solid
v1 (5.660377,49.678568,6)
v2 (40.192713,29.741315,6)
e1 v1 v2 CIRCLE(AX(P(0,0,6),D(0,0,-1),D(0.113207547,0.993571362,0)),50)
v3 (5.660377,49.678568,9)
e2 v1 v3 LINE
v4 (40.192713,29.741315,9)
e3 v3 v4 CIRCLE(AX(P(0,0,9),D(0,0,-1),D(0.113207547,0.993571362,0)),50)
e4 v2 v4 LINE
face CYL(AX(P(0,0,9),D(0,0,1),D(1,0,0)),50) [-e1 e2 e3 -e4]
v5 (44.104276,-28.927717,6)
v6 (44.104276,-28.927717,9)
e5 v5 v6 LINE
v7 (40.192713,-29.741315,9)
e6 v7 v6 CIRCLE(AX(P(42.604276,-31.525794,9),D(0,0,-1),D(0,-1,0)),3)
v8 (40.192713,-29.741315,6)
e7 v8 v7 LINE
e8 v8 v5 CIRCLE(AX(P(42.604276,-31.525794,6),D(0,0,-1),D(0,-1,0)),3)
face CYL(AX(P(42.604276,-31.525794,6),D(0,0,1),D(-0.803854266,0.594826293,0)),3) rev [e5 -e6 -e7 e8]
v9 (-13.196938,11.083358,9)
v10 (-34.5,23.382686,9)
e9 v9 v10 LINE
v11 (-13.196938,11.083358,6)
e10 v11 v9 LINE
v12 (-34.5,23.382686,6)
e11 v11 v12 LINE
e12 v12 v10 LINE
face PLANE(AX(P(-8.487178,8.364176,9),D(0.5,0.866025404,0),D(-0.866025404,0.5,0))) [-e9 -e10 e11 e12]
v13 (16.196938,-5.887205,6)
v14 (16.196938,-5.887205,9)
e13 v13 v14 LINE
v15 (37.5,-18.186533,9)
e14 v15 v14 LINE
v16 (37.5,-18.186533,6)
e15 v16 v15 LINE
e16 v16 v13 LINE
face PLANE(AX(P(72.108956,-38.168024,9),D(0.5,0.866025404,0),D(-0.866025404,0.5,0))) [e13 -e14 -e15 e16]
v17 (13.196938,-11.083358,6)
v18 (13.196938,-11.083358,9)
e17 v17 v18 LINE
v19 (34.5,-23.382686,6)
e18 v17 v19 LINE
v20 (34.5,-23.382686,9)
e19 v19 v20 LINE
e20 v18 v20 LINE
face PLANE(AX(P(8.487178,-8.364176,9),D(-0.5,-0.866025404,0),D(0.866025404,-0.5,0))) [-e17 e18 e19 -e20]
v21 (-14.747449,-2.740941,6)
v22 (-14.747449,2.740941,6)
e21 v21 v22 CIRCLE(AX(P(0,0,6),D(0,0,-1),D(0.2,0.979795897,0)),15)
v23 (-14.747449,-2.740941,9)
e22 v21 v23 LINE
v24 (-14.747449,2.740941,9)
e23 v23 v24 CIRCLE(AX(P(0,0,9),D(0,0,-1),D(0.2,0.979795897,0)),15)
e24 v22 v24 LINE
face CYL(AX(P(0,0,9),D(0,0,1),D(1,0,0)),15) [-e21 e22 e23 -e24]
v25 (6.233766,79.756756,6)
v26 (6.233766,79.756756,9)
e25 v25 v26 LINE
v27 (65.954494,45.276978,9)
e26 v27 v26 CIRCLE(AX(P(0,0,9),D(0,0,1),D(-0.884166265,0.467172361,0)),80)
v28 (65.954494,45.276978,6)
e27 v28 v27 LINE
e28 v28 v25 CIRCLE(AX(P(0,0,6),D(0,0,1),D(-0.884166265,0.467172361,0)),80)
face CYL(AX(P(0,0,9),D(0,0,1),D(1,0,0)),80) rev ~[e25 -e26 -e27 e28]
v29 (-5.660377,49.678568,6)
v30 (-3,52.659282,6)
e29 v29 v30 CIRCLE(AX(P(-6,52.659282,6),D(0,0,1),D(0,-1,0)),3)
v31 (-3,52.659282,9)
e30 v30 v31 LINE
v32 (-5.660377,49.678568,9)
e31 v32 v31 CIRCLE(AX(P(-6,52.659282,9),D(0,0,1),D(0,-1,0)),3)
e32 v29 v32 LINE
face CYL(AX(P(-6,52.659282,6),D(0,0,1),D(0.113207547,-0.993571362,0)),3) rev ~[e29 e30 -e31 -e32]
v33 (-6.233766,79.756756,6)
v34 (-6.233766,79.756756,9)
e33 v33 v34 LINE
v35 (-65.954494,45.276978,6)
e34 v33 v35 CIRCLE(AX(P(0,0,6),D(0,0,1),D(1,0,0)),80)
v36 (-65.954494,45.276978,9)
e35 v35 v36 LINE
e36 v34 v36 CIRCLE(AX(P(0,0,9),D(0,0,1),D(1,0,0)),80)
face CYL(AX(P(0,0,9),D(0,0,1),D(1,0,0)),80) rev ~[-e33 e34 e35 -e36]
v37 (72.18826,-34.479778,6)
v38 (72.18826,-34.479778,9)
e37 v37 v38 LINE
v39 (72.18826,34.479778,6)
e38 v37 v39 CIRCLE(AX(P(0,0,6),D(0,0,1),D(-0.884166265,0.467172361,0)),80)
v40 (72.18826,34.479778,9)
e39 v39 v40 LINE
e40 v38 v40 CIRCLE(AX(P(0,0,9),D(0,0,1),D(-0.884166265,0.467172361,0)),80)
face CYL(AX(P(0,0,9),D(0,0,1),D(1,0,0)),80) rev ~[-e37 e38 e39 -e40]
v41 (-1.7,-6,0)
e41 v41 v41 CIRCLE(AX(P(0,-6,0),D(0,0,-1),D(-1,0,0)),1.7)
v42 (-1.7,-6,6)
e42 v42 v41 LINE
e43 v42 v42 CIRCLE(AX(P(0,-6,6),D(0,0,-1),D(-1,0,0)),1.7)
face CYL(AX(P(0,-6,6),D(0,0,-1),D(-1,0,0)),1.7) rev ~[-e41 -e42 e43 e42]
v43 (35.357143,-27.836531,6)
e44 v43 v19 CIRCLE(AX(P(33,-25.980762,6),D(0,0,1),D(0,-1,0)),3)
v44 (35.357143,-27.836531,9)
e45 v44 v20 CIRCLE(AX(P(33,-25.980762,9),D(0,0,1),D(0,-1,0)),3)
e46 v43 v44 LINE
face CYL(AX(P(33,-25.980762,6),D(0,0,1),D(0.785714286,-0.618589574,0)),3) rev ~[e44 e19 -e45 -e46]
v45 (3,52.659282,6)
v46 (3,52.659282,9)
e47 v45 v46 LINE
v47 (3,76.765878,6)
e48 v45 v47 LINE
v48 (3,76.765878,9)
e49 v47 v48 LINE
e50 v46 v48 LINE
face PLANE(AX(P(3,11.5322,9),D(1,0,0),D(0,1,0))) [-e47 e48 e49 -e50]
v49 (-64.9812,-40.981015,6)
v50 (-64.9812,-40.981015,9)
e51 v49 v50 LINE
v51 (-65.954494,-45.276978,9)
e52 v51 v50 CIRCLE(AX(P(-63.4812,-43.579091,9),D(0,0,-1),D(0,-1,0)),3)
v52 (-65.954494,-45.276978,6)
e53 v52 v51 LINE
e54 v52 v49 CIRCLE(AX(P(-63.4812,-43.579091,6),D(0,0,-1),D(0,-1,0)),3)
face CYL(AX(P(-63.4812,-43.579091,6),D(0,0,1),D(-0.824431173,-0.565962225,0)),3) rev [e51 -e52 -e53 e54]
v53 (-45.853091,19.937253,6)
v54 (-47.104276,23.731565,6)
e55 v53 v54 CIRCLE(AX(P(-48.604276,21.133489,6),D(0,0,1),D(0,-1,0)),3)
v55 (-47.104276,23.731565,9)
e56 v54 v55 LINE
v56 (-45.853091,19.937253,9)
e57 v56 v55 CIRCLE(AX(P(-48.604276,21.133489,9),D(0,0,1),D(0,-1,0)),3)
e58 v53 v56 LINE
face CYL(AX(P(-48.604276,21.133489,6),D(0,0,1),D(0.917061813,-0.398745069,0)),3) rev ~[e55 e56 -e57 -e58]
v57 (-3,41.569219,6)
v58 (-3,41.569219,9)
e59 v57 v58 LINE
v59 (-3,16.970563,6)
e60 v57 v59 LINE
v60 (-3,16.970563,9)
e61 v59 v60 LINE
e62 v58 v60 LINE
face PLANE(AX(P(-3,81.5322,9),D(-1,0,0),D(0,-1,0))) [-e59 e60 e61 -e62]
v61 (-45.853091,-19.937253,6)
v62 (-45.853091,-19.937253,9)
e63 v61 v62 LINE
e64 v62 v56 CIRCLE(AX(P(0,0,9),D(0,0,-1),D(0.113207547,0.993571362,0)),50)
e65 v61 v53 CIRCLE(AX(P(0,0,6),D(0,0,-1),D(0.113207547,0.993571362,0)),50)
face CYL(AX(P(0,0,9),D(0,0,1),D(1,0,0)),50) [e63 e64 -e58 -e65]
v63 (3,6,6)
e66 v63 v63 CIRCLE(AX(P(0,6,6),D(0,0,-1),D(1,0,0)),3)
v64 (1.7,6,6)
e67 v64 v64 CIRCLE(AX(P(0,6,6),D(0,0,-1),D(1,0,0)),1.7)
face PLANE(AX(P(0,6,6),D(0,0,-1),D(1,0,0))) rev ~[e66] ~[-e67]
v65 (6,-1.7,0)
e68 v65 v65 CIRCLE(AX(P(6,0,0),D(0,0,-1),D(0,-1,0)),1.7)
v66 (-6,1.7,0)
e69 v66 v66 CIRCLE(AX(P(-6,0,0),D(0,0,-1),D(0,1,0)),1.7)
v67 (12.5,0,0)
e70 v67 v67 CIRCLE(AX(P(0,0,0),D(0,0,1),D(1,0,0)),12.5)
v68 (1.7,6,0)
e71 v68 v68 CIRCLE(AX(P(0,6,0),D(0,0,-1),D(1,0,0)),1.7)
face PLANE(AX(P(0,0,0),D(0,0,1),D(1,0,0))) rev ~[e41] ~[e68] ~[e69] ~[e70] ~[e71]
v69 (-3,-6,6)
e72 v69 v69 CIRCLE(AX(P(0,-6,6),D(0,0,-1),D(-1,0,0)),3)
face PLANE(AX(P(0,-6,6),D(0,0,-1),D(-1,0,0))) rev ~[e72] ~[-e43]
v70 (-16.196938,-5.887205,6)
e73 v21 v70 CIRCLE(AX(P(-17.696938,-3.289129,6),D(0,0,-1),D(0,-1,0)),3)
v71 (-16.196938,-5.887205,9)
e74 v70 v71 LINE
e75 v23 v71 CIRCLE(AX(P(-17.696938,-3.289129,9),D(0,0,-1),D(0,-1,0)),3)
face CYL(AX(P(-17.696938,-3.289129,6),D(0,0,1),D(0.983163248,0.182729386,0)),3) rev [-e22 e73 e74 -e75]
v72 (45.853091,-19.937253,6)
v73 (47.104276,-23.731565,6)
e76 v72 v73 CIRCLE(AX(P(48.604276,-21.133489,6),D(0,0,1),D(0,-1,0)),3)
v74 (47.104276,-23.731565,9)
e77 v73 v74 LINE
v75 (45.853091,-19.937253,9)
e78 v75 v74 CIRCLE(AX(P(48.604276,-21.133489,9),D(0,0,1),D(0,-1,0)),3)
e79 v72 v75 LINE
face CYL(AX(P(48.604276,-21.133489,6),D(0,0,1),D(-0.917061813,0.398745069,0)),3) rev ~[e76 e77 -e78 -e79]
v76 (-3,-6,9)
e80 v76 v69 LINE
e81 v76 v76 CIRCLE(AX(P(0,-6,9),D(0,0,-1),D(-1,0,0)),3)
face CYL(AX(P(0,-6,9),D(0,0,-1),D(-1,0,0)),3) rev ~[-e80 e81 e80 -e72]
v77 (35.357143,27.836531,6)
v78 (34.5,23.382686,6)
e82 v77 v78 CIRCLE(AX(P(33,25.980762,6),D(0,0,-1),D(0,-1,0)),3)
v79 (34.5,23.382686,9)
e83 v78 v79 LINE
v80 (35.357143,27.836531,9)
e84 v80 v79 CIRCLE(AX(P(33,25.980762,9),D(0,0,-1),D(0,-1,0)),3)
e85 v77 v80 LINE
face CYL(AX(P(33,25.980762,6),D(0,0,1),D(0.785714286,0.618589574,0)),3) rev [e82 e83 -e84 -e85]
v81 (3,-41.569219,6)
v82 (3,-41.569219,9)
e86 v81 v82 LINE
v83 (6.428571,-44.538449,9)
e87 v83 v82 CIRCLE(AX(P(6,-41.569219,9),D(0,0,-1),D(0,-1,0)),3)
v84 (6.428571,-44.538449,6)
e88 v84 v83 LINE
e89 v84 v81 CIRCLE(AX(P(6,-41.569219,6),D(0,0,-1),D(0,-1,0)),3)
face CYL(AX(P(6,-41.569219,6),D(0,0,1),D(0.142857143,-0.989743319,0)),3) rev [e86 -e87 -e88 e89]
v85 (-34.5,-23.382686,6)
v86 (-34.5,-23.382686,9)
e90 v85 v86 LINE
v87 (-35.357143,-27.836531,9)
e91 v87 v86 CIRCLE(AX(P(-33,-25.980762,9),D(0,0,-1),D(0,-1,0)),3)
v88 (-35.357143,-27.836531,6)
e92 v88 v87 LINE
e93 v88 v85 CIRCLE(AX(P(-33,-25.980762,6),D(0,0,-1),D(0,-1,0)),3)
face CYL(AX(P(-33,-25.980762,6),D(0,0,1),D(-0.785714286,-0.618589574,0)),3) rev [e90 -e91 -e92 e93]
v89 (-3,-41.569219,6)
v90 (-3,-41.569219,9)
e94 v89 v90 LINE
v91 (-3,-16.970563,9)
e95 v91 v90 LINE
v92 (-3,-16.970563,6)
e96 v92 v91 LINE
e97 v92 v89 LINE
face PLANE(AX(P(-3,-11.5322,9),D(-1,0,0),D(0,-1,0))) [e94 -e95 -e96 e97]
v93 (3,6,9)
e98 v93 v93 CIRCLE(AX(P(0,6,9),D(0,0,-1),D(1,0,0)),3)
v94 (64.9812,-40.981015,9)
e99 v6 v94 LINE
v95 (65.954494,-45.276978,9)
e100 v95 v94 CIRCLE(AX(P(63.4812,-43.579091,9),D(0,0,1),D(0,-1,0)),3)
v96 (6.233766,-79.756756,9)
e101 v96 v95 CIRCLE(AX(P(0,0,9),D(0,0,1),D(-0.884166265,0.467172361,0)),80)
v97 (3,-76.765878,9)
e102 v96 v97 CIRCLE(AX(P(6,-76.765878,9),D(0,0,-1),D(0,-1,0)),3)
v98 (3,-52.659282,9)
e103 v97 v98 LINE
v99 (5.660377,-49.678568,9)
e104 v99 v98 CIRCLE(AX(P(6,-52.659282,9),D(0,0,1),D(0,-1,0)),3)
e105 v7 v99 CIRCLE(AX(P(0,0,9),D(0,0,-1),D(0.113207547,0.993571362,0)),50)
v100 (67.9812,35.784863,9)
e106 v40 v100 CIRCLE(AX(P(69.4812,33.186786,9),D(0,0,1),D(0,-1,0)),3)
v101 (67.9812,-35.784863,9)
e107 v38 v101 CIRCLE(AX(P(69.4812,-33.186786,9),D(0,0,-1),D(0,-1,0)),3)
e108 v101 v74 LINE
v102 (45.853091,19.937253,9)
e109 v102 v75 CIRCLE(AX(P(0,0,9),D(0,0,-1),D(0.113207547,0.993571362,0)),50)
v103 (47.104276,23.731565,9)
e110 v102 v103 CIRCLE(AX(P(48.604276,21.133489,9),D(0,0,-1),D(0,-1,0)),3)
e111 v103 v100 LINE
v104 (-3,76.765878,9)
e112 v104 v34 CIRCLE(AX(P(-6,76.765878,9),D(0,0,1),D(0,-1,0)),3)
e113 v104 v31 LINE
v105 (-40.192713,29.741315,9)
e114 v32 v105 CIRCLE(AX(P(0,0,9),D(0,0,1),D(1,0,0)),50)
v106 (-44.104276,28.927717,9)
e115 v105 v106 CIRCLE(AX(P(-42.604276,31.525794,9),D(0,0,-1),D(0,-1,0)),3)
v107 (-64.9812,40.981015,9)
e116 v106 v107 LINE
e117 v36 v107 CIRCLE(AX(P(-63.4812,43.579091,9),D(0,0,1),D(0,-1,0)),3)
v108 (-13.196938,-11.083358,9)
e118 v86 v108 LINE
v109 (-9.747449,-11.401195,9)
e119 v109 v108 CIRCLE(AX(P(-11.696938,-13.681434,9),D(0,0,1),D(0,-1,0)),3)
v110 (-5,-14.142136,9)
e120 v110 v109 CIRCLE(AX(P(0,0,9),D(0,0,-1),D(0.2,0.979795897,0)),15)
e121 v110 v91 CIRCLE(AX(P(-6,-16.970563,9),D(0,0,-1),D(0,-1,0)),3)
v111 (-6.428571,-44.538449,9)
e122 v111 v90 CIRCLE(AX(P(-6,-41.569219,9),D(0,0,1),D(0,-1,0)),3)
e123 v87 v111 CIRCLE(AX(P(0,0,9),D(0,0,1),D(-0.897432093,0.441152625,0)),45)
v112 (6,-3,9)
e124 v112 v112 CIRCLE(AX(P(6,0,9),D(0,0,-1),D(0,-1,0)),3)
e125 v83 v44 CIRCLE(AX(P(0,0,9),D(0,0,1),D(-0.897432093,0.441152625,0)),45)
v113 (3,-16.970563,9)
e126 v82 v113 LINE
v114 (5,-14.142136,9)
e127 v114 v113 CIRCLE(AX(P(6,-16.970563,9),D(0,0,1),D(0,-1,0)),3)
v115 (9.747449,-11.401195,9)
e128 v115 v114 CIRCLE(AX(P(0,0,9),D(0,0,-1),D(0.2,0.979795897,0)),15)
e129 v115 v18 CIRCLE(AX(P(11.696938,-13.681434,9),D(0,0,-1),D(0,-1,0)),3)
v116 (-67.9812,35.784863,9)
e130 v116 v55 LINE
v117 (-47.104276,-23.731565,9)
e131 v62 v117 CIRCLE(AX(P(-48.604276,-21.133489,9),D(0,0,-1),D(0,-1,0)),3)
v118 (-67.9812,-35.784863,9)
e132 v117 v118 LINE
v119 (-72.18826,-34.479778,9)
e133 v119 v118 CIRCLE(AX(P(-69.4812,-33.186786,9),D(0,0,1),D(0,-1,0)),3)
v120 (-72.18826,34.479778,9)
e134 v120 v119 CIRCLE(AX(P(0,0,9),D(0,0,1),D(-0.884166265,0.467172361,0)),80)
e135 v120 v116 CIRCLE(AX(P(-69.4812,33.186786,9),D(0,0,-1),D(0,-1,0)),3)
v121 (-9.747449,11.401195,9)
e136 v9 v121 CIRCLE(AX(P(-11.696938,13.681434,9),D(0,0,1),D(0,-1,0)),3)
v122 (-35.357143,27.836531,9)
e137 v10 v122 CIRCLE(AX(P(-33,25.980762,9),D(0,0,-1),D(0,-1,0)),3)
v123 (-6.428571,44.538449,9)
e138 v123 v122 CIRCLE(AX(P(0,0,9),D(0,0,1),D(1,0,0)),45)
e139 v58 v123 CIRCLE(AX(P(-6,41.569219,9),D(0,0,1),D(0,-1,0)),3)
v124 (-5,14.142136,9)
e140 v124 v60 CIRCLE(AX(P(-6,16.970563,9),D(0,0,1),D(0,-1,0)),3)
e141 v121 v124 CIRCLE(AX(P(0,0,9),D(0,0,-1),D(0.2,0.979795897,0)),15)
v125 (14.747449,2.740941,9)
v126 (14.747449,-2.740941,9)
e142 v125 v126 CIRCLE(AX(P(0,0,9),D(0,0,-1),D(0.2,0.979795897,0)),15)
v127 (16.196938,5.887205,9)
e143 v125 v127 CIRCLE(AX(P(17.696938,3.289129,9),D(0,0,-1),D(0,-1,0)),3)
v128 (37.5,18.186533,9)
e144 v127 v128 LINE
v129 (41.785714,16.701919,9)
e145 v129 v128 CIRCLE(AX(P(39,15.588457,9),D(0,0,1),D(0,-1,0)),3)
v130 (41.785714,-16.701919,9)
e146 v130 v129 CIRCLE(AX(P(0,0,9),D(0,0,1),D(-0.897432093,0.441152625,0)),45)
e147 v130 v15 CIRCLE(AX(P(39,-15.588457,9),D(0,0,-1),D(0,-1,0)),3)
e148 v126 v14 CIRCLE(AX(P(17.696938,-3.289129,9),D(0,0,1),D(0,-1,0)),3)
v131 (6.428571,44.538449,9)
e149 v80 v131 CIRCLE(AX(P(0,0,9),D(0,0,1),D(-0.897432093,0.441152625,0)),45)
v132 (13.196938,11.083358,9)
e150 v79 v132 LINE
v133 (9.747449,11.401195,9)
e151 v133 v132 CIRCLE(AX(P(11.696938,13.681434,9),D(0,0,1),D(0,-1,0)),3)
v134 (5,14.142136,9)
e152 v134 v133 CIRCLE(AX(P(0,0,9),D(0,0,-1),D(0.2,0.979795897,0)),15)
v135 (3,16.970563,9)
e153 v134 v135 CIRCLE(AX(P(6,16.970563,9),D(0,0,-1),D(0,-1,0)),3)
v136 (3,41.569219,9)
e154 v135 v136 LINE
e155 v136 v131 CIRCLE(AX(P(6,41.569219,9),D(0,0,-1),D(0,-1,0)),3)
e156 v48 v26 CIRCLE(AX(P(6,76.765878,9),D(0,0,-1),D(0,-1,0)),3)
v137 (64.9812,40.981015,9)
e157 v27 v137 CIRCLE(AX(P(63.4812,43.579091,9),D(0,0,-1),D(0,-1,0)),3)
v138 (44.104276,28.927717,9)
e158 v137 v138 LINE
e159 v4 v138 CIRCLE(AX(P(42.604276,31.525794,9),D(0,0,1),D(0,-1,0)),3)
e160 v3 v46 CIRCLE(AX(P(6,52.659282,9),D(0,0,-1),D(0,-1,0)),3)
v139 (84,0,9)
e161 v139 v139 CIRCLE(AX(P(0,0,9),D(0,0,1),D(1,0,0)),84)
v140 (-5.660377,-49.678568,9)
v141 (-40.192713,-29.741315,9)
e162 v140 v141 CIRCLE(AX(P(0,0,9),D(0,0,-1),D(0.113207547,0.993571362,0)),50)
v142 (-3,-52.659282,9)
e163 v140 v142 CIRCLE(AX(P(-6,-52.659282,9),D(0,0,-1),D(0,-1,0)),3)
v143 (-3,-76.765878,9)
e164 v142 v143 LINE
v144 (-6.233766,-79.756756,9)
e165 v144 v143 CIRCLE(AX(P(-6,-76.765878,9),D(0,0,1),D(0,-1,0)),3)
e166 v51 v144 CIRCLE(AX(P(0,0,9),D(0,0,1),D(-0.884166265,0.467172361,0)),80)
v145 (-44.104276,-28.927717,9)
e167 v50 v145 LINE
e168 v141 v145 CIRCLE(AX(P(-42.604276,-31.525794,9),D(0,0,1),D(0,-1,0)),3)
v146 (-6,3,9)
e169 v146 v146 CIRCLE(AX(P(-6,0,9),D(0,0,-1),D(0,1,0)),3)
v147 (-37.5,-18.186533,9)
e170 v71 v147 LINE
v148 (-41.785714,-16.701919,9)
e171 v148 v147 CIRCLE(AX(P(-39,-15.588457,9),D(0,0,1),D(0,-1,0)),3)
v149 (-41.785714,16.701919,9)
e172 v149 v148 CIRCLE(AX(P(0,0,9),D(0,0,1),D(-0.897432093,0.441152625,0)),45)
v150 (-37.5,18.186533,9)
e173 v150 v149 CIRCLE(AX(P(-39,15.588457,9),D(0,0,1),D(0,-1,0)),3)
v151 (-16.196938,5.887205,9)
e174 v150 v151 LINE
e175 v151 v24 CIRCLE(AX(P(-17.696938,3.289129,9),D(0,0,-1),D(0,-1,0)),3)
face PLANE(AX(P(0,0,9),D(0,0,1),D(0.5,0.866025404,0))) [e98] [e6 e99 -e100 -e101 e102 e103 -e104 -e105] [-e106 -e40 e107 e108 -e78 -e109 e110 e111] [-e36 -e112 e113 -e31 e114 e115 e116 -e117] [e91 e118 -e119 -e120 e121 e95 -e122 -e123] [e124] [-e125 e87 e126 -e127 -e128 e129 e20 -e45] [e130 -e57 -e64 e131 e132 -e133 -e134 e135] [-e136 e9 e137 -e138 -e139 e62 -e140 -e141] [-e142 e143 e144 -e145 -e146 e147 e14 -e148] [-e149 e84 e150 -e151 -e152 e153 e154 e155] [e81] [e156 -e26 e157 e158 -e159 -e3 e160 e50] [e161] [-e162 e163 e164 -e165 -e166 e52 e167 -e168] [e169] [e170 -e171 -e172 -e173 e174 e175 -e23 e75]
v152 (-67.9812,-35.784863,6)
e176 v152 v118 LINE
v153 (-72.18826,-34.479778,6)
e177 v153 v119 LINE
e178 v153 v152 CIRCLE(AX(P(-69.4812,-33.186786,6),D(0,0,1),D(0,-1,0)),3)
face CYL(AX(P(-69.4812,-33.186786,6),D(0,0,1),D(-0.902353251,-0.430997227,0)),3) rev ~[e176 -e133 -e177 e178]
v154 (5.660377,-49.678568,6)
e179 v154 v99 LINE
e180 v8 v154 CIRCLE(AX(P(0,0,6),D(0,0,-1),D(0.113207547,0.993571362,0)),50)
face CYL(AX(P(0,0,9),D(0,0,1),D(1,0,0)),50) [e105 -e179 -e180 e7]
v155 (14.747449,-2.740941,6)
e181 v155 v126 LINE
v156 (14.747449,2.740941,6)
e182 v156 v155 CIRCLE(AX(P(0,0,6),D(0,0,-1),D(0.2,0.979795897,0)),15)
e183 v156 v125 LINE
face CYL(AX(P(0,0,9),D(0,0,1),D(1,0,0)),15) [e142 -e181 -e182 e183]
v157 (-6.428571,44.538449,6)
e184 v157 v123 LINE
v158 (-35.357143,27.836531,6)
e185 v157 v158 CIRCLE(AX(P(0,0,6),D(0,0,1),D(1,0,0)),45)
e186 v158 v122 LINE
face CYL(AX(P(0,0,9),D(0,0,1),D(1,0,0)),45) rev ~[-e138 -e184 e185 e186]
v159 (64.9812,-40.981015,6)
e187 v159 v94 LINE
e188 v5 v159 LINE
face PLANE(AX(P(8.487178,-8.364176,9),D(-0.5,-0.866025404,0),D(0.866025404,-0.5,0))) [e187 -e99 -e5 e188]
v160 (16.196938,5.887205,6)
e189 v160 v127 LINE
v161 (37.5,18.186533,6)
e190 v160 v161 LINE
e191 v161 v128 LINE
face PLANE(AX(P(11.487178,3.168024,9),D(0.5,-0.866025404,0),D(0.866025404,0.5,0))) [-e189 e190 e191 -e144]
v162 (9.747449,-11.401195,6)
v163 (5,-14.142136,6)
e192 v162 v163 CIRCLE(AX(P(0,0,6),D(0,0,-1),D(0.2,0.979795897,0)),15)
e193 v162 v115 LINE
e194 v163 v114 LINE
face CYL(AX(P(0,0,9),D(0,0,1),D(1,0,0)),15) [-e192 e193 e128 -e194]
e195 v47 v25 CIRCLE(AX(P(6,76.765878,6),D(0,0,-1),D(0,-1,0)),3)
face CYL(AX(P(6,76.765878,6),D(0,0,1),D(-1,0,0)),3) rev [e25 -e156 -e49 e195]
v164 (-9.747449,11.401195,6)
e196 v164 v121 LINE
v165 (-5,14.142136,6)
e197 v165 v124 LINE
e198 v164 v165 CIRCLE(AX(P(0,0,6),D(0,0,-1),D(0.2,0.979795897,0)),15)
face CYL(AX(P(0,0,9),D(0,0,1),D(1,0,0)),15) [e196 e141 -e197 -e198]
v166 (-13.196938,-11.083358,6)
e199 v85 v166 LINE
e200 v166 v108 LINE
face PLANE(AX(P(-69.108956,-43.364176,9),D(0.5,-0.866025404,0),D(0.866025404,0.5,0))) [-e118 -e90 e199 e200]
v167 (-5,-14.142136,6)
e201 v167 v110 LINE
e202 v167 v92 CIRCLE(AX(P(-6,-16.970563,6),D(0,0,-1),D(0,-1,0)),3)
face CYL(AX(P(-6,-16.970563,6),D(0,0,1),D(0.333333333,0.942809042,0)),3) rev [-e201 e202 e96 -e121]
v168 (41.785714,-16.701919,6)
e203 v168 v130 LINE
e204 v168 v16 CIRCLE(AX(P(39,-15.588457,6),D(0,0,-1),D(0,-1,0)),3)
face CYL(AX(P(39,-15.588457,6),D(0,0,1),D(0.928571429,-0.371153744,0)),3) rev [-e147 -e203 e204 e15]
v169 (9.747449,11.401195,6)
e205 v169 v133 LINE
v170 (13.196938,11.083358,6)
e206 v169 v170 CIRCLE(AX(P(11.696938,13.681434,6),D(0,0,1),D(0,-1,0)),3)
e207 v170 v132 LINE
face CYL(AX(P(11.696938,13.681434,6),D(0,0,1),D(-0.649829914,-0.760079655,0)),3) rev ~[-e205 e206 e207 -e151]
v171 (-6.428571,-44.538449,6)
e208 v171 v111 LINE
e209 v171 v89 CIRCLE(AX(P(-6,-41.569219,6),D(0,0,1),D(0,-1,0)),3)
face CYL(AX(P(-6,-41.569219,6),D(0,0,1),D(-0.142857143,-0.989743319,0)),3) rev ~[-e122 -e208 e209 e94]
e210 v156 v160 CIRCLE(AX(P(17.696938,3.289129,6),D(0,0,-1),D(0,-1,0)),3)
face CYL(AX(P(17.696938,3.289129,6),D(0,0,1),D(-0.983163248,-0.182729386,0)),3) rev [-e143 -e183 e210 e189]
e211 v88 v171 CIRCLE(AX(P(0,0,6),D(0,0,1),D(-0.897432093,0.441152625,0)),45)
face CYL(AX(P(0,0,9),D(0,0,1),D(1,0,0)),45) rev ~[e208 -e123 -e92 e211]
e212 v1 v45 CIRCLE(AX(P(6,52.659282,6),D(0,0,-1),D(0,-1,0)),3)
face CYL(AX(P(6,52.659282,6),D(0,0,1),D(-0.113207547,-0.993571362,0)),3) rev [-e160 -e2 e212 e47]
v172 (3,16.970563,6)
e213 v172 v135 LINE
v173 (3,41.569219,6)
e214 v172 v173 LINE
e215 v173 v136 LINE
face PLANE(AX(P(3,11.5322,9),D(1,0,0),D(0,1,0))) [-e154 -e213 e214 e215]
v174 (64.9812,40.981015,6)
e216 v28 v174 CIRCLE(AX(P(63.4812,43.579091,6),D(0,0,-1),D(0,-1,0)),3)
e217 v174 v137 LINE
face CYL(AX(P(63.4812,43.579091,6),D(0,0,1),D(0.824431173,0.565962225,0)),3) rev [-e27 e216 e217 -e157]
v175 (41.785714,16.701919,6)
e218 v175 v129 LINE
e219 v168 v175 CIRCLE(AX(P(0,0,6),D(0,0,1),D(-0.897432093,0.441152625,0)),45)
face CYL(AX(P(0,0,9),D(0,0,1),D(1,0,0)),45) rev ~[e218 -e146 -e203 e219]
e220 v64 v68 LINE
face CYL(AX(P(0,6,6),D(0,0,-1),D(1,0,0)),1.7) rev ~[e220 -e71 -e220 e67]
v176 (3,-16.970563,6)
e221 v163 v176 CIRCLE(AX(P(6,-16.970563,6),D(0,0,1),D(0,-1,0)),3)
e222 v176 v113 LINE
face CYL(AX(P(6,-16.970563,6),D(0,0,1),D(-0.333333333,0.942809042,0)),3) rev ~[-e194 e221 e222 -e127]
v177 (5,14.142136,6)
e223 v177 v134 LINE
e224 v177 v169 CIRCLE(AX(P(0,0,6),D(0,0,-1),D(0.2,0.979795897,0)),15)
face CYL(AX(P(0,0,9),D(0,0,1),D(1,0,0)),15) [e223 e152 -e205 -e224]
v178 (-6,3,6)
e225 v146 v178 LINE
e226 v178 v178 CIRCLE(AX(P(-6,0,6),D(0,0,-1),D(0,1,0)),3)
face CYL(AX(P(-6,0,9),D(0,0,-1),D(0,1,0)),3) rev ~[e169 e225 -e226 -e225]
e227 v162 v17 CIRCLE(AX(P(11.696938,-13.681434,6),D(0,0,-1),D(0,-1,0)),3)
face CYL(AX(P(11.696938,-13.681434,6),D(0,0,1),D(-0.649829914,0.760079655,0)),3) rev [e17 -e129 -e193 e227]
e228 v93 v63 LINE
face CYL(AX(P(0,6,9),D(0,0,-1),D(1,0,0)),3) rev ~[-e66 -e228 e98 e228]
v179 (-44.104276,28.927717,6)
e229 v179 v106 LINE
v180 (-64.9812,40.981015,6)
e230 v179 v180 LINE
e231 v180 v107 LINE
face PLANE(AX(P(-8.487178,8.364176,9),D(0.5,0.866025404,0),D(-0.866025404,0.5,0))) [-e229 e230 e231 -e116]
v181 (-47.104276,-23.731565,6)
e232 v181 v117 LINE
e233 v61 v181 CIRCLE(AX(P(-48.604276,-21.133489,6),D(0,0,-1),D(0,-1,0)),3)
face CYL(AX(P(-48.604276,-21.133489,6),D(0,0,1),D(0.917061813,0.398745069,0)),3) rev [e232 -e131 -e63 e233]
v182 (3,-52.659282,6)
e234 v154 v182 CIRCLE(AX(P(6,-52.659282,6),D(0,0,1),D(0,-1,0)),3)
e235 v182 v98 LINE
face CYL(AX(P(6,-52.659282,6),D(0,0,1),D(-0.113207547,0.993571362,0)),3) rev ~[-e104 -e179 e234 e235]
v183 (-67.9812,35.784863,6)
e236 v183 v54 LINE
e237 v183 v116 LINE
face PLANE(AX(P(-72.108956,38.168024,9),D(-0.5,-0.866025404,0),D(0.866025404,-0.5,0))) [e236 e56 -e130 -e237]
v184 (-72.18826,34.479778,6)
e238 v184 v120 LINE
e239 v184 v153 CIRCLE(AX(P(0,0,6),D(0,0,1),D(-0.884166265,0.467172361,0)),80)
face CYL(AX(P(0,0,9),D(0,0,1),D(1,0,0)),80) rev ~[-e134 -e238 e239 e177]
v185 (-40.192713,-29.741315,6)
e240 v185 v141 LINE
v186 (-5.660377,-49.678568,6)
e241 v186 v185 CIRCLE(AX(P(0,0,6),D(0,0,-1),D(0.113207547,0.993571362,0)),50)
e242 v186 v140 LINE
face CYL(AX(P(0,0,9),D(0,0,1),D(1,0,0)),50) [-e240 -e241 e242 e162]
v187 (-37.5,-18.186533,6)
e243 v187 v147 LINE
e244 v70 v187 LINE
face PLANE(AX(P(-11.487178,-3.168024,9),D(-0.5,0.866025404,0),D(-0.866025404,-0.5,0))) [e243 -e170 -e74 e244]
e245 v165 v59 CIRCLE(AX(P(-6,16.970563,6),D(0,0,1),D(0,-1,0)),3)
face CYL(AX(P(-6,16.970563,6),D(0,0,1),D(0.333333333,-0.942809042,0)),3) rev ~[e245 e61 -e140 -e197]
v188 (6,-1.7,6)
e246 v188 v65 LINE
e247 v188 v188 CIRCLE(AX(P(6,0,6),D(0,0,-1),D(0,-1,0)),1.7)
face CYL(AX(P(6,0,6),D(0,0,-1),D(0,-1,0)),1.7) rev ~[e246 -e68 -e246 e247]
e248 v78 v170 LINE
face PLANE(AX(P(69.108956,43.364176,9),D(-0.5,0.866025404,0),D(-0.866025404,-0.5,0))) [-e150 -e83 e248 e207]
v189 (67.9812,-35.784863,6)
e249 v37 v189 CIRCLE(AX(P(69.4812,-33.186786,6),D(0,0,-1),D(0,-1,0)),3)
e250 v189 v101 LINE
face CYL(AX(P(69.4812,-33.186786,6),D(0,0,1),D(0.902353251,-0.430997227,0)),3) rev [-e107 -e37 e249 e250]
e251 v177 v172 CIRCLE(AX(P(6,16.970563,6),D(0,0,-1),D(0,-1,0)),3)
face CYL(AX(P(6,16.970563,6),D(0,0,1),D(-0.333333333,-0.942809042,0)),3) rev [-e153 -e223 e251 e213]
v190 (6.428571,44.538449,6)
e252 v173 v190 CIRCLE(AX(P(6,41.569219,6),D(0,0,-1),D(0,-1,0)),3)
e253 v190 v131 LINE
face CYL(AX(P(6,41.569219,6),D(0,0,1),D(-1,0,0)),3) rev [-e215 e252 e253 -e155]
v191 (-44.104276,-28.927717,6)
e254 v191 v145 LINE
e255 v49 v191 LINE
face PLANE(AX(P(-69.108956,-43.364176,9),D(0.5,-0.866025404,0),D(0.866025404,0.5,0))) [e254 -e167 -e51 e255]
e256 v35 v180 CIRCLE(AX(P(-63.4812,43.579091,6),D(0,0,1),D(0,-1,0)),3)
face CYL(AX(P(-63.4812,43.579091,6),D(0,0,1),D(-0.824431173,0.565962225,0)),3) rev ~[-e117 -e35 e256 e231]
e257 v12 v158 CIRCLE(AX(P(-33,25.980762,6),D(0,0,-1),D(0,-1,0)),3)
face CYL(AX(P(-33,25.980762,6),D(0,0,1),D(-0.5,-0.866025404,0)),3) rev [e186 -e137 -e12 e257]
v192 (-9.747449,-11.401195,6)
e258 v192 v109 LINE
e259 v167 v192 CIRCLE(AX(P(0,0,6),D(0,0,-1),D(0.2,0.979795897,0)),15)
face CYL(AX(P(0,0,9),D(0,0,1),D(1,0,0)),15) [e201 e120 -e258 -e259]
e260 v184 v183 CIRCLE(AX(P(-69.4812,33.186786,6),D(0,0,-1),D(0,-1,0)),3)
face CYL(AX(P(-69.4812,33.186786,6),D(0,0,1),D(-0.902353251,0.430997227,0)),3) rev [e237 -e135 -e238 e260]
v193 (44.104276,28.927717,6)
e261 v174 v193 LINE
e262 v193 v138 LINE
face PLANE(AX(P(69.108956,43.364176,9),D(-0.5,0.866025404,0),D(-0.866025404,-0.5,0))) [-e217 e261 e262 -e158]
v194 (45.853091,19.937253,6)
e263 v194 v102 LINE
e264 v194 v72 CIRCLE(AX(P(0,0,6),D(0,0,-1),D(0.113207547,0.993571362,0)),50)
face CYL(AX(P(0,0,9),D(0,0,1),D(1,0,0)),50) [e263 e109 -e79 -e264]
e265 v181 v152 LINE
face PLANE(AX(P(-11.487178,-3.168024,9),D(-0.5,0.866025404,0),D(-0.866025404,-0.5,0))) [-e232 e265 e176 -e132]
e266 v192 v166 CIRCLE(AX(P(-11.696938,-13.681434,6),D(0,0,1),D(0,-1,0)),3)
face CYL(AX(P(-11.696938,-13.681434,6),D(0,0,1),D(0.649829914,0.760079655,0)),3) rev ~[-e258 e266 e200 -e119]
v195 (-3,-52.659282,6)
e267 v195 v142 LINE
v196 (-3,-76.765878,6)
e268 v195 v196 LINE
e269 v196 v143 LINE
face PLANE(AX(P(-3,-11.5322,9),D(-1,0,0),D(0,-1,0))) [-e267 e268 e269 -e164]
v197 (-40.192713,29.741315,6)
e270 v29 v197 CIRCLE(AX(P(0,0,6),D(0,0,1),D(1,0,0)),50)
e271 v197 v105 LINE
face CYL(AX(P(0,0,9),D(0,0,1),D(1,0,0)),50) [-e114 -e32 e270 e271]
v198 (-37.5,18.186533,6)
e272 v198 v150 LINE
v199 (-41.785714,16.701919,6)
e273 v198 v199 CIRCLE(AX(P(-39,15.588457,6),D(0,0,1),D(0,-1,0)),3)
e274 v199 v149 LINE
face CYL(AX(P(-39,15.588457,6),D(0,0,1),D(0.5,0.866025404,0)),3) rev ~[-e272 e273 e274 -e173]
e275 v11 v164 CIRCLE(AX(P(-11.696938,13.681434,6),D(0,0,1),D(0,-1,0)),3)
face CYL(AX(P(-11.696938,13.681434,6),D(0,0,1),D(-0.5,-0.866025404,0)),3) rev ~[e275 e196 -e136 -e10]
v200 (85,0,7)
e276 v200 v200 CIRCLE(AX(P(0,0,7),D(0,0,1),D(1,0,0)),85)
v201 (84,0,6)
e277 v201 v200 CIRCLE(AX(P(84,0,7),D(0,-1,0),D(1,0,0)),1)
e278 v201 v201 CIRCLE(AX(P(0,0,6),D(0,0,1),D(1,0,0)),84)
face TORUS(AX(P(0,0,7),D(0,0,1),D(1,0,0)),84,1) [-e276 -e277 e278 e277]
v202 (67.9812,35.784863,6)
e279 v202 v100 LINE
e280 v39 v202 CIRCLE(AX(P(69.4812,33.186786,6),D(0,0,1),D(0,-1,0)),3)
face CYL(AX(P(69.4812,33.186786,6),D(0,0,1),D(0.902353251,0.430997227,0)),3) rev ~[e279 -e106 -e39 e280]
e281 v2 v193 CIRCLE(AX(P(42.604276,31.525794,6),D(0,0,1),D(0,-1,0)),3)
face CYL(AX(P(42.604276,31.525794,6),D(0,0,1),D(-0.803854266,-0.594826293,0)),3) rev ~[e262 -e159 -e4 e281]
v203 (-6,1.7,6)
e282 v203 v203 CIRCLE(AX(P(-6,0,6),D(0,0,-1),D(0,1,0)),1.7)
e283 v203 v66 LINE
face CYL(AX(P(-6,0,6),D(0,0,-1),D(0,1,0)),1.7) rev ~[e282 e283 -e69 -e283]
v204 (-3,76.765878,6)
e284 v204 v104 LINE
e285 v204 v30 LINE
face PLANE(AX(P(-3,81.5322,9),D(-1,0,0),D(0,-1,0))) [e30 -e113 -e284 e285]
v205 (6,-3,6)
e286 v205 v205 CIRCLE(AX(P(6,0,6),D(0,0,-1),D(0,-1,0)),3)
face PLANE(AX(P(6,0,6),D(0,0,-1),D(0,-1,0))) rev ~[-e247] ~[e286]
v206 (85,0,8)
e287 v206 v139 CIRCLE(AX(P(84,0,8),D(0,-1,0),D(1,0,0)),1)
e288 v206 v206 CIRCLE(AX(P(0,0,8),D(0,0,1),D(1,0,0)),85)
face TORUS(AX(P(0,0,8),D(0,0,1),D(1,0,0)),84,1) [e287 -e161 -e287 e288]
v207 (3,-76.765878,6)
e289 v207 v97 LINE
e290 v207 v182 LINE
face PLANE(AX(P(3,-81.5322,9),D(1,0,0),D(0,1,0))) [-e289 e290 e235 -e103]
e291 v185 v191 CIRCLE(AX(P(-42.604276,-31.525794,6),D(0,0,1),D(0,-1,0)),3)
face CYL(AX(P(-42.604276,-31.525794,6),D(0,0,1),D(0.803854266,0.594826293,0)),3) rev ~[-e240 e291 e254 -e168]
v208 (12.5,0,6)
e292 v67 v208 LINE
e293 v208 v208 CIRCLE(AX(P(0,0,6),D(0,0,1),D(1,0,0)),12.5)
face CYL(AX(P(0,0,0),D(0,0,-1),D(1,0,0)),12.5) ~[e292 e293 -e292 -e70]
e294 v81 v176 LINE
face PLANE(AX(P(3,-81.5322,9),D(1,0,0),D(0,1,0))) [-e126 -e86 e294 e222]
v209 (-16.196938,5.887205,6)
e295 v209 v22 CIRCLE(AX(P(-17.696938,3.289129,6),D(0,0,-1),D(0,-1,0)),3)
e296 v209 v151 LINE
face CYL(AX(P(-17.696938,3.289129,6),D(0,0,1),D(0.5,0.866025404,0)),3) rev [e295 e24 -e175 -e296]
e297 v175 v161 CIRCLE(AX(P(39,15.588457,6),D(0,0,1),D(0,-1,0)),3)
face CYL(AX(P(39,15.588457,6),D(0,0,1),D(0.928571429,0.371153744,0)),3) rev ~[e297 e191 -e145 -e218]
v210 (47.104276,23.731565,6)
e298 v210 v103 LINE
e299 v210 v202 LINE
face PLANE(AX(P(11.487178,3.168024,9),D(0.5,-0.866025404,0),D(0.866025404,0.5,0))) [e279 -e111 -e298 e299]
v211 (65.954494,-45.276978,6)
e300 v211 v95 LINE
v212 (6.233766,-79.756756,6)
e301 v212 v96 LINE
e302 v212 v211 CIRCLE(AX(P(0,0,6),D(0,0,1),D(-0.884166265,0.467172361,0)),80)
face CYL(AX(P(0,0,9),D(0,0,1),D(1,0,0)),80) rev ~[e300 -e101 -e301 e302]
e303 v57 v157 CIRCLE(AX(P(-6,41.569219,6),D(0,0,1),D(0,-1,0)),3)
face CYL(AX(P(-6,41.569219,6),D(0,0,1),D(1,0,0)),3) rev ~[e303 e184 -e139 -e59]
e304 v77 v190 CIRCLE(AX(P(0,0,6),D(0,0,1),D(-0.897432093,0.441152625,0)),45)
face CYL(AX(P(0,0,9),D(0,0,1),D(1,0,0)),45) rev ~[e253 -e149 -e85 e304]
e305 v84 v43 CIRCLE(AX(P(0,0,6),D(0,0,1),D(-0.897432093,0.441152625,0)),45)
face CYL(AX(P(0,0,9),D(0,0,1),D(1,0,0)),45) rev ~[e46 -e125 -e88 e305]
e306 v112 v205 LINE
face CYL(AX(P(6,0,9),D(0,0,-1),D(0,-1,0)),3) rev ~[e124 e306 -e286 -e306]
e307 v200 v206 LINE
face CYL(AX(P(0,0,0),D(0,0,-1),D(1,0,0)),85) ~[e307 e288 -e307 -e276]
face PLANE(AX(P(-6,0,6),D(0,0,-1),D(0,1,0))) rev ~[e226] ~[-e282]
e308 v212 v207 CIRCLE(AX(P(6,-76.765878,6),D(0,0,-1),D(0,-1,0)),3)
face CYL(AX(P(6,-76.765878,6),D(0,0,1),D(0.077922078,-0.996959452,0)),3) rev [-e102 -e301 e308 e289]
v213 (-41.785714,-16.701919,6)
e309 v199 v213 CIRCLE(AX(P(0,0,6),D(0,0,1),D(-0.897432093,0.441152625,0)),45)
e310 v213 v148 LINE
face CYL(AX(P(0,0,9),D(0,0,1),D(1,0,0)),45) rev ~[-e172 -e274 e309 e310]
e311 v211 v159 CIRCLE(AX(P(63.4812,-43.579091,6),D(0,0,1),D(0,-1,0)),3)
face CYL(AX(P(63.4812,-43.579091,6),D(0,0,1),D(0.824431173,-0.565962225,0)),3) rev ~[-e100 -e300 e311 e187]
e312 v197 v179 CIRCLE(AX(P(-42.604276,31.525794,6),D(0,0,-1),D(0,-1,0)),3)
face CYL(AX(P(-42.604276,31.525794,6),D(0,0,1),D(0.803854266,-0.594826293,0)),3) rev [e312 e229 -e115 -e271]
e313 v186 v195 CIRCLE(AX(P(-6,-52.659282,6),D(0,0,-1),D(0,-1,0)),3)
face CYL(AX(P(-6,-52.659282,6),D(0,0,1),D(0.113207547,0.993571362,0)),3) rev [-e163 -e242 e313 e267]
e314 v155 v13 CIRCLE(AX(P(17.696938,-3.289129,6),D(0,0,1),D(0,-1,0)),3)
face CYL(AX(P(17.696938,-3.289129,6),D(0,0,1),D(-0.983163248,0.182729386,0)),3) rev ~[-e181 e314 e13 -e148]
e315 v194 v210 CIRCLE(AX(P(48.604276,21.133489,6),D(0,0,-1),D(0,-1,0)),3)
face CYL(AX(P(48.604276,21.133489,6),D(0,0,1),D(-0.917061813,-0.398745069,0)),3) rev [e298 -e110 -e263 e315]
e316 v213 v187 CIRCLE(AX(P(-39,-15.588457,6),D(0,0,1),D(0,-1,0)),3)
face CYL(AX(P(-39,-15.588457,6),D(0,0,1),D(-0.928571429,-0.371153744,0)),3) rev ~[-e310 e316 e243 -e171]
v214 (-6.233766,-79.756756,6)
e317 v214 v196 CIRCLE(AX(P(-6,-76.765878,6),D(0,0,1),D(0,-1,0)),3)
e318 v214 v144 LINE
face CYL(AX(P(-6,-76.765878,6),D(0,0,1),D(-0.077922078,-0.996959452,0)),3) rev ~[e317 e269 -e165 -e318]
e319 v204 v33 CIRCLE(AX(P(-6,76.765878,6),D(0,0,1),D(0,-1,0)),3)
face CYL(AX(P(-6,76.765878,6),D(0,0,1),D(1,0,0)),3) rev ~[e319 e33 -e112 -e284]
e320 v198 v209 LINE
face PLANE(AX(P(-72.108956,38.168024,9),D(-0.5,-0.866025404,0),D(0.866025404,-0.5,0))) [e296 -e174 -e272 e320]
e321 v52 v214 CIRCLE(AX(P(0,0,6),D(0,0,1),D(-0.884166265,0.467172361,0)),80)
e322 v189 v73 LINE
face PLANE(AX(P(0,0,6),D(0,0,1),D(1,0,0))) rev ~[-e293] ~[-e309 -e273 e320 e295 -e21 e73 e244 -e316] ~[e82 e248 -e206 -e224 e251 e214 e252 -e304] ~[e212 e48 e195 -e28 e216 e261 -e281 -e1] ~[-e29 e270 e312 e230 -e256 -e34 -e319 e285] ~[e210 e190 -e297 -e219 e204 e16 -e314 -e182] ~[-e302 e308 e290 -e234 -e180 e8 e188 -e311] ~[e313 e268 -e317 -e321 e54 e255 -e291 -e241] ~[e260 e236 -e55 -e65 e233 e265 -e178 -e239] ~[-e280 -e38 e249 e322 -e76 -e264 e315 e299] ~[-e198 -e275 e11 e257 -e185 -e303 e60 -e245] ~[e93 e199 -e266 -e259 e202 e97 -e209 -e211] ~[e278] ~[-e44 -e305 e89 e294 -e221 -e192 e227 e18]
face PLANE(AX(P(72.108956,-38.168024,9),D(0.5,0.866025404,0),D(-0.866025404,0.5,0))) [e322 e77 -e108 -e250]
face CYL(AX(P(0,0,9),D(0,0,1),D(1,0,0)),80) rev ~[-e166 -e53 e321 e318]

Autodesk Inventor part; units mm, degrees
ref_plane "YZ Plane" through (0, 0, 0) normal (1, 0, 0) x (0, 1, 0)
ref_plane "XZ Plane" through (0, 0, 0) normal (0, 1, 0) x (-1, 0, 0)
ref_plane "XY Plane" through (0, 0, 0) normal (0, 0, 1) x (1, 0, 0)
sketch "Sketch1" plane through (0, 0, 0) normal (0, 0, 1) x (1, 0, 0)
  circle A0 centre (0, 0) radius 85
  dimension "d0" = 170
extrude "Extrusion1" add sketch "Sketch1" along normal blind 9
sketch "Sketch2" plane through (0, 0, 9) normal (0, 0, 1) x (1, 0, 0)
  point P0 (0, 0)
  point P1 (6, 0)
  dimension "d3" = 6
hole "Hole1" at (6, 0, 9) direction (0, 0, -1) diameter 3.4 end through all counterbore diameter 6 counterbore depth 3 clearance for "Hex Head Cap Screw DIN EN 24017" size "M3" standard "DIN"
pattern_circular "Circular Pattern1" count 4 over 360 about axis through (0, 0, -10) along (0, 0, 1) of "Hole1"
sketch "Sketch3" plane through (0, 0, 0) normal (0, 0, 1) x (1, 0, 0)
  circle A0 centre (0, 0) radius 12.5
  circle A1 centre (0, 0) radius 85
  dimension "d14" = 25
extrude "Extrusion2" cut sketch "Sketch3" along normal blind 6
sketch "Sketch4" plane through (0, 0, 9) normal (0, 0, 1) x (1, 0, 0)
  circle A0 centre (0, 0) radius 15
  circle A1 centre (0, 0) radius 80
  circle A2 centre (0, 0) radius 45
  circle A3 centre (0, 0) radius 50
  dimension "d18" = 30
  dimension "d19" = 160
  dimension "d22" = 90
  dimension "d23" = 100
sketch "Sketch5" plane through (0, 0, 9) normal (0, 0, 1) x (1, 0, 0)
  point P0 (0, 0)
extrude "Extrusion4" cut sketch "Sketch4" against normal through all
sketch "Sketch6" plane through (0, 0, 9) normal (0, 0, 1) x (1, 0, 0)
  line L0 (3, 81.5322) -> (-3, 81.5322)
  line L1 (-3, 81.5322) -> (-3, 11.5322)
  line L2 (-3, 11.5322) -> (3, 11.5322)
  line L3 (3, 11.5322) -> (3, 81.5322)
  line L4 (3, 81.5322) -> (-3, 11.5322) construction
  line L5 (-3, 81.5322) -> (3, 11.5322) construction
  point P0 (0, 0)
  point P1 (0, 46.5322)
  dimension "d26" = 6
  dimension "d30" = 70
extrude "Extrusion5" add sketch "Sketch6" against normal blind 3
fillet "Fillet2" radius 3 8 edges at (-3, 14.6969, 7.5) (-3, 44.8999, 7.5) (-3, 49.9099, 7.5) (-3, 79.9437, 7.5) (3, 79.9437, 7.5) (3, 49.9099, 7.5) (3, 44.8999, 7.5) (3, 14.6969, 7.5)
pattern_circular "Circular Pattern2" count 6 over 360 about axis through (0, 0, -10) along (0, 0, 1) of "Extrusion5", "Fillet2"
fillet "Fillet1" radius 1 2 edges at (-85, 0, 9) (-85, 0, 6)
properties part number "fly"
